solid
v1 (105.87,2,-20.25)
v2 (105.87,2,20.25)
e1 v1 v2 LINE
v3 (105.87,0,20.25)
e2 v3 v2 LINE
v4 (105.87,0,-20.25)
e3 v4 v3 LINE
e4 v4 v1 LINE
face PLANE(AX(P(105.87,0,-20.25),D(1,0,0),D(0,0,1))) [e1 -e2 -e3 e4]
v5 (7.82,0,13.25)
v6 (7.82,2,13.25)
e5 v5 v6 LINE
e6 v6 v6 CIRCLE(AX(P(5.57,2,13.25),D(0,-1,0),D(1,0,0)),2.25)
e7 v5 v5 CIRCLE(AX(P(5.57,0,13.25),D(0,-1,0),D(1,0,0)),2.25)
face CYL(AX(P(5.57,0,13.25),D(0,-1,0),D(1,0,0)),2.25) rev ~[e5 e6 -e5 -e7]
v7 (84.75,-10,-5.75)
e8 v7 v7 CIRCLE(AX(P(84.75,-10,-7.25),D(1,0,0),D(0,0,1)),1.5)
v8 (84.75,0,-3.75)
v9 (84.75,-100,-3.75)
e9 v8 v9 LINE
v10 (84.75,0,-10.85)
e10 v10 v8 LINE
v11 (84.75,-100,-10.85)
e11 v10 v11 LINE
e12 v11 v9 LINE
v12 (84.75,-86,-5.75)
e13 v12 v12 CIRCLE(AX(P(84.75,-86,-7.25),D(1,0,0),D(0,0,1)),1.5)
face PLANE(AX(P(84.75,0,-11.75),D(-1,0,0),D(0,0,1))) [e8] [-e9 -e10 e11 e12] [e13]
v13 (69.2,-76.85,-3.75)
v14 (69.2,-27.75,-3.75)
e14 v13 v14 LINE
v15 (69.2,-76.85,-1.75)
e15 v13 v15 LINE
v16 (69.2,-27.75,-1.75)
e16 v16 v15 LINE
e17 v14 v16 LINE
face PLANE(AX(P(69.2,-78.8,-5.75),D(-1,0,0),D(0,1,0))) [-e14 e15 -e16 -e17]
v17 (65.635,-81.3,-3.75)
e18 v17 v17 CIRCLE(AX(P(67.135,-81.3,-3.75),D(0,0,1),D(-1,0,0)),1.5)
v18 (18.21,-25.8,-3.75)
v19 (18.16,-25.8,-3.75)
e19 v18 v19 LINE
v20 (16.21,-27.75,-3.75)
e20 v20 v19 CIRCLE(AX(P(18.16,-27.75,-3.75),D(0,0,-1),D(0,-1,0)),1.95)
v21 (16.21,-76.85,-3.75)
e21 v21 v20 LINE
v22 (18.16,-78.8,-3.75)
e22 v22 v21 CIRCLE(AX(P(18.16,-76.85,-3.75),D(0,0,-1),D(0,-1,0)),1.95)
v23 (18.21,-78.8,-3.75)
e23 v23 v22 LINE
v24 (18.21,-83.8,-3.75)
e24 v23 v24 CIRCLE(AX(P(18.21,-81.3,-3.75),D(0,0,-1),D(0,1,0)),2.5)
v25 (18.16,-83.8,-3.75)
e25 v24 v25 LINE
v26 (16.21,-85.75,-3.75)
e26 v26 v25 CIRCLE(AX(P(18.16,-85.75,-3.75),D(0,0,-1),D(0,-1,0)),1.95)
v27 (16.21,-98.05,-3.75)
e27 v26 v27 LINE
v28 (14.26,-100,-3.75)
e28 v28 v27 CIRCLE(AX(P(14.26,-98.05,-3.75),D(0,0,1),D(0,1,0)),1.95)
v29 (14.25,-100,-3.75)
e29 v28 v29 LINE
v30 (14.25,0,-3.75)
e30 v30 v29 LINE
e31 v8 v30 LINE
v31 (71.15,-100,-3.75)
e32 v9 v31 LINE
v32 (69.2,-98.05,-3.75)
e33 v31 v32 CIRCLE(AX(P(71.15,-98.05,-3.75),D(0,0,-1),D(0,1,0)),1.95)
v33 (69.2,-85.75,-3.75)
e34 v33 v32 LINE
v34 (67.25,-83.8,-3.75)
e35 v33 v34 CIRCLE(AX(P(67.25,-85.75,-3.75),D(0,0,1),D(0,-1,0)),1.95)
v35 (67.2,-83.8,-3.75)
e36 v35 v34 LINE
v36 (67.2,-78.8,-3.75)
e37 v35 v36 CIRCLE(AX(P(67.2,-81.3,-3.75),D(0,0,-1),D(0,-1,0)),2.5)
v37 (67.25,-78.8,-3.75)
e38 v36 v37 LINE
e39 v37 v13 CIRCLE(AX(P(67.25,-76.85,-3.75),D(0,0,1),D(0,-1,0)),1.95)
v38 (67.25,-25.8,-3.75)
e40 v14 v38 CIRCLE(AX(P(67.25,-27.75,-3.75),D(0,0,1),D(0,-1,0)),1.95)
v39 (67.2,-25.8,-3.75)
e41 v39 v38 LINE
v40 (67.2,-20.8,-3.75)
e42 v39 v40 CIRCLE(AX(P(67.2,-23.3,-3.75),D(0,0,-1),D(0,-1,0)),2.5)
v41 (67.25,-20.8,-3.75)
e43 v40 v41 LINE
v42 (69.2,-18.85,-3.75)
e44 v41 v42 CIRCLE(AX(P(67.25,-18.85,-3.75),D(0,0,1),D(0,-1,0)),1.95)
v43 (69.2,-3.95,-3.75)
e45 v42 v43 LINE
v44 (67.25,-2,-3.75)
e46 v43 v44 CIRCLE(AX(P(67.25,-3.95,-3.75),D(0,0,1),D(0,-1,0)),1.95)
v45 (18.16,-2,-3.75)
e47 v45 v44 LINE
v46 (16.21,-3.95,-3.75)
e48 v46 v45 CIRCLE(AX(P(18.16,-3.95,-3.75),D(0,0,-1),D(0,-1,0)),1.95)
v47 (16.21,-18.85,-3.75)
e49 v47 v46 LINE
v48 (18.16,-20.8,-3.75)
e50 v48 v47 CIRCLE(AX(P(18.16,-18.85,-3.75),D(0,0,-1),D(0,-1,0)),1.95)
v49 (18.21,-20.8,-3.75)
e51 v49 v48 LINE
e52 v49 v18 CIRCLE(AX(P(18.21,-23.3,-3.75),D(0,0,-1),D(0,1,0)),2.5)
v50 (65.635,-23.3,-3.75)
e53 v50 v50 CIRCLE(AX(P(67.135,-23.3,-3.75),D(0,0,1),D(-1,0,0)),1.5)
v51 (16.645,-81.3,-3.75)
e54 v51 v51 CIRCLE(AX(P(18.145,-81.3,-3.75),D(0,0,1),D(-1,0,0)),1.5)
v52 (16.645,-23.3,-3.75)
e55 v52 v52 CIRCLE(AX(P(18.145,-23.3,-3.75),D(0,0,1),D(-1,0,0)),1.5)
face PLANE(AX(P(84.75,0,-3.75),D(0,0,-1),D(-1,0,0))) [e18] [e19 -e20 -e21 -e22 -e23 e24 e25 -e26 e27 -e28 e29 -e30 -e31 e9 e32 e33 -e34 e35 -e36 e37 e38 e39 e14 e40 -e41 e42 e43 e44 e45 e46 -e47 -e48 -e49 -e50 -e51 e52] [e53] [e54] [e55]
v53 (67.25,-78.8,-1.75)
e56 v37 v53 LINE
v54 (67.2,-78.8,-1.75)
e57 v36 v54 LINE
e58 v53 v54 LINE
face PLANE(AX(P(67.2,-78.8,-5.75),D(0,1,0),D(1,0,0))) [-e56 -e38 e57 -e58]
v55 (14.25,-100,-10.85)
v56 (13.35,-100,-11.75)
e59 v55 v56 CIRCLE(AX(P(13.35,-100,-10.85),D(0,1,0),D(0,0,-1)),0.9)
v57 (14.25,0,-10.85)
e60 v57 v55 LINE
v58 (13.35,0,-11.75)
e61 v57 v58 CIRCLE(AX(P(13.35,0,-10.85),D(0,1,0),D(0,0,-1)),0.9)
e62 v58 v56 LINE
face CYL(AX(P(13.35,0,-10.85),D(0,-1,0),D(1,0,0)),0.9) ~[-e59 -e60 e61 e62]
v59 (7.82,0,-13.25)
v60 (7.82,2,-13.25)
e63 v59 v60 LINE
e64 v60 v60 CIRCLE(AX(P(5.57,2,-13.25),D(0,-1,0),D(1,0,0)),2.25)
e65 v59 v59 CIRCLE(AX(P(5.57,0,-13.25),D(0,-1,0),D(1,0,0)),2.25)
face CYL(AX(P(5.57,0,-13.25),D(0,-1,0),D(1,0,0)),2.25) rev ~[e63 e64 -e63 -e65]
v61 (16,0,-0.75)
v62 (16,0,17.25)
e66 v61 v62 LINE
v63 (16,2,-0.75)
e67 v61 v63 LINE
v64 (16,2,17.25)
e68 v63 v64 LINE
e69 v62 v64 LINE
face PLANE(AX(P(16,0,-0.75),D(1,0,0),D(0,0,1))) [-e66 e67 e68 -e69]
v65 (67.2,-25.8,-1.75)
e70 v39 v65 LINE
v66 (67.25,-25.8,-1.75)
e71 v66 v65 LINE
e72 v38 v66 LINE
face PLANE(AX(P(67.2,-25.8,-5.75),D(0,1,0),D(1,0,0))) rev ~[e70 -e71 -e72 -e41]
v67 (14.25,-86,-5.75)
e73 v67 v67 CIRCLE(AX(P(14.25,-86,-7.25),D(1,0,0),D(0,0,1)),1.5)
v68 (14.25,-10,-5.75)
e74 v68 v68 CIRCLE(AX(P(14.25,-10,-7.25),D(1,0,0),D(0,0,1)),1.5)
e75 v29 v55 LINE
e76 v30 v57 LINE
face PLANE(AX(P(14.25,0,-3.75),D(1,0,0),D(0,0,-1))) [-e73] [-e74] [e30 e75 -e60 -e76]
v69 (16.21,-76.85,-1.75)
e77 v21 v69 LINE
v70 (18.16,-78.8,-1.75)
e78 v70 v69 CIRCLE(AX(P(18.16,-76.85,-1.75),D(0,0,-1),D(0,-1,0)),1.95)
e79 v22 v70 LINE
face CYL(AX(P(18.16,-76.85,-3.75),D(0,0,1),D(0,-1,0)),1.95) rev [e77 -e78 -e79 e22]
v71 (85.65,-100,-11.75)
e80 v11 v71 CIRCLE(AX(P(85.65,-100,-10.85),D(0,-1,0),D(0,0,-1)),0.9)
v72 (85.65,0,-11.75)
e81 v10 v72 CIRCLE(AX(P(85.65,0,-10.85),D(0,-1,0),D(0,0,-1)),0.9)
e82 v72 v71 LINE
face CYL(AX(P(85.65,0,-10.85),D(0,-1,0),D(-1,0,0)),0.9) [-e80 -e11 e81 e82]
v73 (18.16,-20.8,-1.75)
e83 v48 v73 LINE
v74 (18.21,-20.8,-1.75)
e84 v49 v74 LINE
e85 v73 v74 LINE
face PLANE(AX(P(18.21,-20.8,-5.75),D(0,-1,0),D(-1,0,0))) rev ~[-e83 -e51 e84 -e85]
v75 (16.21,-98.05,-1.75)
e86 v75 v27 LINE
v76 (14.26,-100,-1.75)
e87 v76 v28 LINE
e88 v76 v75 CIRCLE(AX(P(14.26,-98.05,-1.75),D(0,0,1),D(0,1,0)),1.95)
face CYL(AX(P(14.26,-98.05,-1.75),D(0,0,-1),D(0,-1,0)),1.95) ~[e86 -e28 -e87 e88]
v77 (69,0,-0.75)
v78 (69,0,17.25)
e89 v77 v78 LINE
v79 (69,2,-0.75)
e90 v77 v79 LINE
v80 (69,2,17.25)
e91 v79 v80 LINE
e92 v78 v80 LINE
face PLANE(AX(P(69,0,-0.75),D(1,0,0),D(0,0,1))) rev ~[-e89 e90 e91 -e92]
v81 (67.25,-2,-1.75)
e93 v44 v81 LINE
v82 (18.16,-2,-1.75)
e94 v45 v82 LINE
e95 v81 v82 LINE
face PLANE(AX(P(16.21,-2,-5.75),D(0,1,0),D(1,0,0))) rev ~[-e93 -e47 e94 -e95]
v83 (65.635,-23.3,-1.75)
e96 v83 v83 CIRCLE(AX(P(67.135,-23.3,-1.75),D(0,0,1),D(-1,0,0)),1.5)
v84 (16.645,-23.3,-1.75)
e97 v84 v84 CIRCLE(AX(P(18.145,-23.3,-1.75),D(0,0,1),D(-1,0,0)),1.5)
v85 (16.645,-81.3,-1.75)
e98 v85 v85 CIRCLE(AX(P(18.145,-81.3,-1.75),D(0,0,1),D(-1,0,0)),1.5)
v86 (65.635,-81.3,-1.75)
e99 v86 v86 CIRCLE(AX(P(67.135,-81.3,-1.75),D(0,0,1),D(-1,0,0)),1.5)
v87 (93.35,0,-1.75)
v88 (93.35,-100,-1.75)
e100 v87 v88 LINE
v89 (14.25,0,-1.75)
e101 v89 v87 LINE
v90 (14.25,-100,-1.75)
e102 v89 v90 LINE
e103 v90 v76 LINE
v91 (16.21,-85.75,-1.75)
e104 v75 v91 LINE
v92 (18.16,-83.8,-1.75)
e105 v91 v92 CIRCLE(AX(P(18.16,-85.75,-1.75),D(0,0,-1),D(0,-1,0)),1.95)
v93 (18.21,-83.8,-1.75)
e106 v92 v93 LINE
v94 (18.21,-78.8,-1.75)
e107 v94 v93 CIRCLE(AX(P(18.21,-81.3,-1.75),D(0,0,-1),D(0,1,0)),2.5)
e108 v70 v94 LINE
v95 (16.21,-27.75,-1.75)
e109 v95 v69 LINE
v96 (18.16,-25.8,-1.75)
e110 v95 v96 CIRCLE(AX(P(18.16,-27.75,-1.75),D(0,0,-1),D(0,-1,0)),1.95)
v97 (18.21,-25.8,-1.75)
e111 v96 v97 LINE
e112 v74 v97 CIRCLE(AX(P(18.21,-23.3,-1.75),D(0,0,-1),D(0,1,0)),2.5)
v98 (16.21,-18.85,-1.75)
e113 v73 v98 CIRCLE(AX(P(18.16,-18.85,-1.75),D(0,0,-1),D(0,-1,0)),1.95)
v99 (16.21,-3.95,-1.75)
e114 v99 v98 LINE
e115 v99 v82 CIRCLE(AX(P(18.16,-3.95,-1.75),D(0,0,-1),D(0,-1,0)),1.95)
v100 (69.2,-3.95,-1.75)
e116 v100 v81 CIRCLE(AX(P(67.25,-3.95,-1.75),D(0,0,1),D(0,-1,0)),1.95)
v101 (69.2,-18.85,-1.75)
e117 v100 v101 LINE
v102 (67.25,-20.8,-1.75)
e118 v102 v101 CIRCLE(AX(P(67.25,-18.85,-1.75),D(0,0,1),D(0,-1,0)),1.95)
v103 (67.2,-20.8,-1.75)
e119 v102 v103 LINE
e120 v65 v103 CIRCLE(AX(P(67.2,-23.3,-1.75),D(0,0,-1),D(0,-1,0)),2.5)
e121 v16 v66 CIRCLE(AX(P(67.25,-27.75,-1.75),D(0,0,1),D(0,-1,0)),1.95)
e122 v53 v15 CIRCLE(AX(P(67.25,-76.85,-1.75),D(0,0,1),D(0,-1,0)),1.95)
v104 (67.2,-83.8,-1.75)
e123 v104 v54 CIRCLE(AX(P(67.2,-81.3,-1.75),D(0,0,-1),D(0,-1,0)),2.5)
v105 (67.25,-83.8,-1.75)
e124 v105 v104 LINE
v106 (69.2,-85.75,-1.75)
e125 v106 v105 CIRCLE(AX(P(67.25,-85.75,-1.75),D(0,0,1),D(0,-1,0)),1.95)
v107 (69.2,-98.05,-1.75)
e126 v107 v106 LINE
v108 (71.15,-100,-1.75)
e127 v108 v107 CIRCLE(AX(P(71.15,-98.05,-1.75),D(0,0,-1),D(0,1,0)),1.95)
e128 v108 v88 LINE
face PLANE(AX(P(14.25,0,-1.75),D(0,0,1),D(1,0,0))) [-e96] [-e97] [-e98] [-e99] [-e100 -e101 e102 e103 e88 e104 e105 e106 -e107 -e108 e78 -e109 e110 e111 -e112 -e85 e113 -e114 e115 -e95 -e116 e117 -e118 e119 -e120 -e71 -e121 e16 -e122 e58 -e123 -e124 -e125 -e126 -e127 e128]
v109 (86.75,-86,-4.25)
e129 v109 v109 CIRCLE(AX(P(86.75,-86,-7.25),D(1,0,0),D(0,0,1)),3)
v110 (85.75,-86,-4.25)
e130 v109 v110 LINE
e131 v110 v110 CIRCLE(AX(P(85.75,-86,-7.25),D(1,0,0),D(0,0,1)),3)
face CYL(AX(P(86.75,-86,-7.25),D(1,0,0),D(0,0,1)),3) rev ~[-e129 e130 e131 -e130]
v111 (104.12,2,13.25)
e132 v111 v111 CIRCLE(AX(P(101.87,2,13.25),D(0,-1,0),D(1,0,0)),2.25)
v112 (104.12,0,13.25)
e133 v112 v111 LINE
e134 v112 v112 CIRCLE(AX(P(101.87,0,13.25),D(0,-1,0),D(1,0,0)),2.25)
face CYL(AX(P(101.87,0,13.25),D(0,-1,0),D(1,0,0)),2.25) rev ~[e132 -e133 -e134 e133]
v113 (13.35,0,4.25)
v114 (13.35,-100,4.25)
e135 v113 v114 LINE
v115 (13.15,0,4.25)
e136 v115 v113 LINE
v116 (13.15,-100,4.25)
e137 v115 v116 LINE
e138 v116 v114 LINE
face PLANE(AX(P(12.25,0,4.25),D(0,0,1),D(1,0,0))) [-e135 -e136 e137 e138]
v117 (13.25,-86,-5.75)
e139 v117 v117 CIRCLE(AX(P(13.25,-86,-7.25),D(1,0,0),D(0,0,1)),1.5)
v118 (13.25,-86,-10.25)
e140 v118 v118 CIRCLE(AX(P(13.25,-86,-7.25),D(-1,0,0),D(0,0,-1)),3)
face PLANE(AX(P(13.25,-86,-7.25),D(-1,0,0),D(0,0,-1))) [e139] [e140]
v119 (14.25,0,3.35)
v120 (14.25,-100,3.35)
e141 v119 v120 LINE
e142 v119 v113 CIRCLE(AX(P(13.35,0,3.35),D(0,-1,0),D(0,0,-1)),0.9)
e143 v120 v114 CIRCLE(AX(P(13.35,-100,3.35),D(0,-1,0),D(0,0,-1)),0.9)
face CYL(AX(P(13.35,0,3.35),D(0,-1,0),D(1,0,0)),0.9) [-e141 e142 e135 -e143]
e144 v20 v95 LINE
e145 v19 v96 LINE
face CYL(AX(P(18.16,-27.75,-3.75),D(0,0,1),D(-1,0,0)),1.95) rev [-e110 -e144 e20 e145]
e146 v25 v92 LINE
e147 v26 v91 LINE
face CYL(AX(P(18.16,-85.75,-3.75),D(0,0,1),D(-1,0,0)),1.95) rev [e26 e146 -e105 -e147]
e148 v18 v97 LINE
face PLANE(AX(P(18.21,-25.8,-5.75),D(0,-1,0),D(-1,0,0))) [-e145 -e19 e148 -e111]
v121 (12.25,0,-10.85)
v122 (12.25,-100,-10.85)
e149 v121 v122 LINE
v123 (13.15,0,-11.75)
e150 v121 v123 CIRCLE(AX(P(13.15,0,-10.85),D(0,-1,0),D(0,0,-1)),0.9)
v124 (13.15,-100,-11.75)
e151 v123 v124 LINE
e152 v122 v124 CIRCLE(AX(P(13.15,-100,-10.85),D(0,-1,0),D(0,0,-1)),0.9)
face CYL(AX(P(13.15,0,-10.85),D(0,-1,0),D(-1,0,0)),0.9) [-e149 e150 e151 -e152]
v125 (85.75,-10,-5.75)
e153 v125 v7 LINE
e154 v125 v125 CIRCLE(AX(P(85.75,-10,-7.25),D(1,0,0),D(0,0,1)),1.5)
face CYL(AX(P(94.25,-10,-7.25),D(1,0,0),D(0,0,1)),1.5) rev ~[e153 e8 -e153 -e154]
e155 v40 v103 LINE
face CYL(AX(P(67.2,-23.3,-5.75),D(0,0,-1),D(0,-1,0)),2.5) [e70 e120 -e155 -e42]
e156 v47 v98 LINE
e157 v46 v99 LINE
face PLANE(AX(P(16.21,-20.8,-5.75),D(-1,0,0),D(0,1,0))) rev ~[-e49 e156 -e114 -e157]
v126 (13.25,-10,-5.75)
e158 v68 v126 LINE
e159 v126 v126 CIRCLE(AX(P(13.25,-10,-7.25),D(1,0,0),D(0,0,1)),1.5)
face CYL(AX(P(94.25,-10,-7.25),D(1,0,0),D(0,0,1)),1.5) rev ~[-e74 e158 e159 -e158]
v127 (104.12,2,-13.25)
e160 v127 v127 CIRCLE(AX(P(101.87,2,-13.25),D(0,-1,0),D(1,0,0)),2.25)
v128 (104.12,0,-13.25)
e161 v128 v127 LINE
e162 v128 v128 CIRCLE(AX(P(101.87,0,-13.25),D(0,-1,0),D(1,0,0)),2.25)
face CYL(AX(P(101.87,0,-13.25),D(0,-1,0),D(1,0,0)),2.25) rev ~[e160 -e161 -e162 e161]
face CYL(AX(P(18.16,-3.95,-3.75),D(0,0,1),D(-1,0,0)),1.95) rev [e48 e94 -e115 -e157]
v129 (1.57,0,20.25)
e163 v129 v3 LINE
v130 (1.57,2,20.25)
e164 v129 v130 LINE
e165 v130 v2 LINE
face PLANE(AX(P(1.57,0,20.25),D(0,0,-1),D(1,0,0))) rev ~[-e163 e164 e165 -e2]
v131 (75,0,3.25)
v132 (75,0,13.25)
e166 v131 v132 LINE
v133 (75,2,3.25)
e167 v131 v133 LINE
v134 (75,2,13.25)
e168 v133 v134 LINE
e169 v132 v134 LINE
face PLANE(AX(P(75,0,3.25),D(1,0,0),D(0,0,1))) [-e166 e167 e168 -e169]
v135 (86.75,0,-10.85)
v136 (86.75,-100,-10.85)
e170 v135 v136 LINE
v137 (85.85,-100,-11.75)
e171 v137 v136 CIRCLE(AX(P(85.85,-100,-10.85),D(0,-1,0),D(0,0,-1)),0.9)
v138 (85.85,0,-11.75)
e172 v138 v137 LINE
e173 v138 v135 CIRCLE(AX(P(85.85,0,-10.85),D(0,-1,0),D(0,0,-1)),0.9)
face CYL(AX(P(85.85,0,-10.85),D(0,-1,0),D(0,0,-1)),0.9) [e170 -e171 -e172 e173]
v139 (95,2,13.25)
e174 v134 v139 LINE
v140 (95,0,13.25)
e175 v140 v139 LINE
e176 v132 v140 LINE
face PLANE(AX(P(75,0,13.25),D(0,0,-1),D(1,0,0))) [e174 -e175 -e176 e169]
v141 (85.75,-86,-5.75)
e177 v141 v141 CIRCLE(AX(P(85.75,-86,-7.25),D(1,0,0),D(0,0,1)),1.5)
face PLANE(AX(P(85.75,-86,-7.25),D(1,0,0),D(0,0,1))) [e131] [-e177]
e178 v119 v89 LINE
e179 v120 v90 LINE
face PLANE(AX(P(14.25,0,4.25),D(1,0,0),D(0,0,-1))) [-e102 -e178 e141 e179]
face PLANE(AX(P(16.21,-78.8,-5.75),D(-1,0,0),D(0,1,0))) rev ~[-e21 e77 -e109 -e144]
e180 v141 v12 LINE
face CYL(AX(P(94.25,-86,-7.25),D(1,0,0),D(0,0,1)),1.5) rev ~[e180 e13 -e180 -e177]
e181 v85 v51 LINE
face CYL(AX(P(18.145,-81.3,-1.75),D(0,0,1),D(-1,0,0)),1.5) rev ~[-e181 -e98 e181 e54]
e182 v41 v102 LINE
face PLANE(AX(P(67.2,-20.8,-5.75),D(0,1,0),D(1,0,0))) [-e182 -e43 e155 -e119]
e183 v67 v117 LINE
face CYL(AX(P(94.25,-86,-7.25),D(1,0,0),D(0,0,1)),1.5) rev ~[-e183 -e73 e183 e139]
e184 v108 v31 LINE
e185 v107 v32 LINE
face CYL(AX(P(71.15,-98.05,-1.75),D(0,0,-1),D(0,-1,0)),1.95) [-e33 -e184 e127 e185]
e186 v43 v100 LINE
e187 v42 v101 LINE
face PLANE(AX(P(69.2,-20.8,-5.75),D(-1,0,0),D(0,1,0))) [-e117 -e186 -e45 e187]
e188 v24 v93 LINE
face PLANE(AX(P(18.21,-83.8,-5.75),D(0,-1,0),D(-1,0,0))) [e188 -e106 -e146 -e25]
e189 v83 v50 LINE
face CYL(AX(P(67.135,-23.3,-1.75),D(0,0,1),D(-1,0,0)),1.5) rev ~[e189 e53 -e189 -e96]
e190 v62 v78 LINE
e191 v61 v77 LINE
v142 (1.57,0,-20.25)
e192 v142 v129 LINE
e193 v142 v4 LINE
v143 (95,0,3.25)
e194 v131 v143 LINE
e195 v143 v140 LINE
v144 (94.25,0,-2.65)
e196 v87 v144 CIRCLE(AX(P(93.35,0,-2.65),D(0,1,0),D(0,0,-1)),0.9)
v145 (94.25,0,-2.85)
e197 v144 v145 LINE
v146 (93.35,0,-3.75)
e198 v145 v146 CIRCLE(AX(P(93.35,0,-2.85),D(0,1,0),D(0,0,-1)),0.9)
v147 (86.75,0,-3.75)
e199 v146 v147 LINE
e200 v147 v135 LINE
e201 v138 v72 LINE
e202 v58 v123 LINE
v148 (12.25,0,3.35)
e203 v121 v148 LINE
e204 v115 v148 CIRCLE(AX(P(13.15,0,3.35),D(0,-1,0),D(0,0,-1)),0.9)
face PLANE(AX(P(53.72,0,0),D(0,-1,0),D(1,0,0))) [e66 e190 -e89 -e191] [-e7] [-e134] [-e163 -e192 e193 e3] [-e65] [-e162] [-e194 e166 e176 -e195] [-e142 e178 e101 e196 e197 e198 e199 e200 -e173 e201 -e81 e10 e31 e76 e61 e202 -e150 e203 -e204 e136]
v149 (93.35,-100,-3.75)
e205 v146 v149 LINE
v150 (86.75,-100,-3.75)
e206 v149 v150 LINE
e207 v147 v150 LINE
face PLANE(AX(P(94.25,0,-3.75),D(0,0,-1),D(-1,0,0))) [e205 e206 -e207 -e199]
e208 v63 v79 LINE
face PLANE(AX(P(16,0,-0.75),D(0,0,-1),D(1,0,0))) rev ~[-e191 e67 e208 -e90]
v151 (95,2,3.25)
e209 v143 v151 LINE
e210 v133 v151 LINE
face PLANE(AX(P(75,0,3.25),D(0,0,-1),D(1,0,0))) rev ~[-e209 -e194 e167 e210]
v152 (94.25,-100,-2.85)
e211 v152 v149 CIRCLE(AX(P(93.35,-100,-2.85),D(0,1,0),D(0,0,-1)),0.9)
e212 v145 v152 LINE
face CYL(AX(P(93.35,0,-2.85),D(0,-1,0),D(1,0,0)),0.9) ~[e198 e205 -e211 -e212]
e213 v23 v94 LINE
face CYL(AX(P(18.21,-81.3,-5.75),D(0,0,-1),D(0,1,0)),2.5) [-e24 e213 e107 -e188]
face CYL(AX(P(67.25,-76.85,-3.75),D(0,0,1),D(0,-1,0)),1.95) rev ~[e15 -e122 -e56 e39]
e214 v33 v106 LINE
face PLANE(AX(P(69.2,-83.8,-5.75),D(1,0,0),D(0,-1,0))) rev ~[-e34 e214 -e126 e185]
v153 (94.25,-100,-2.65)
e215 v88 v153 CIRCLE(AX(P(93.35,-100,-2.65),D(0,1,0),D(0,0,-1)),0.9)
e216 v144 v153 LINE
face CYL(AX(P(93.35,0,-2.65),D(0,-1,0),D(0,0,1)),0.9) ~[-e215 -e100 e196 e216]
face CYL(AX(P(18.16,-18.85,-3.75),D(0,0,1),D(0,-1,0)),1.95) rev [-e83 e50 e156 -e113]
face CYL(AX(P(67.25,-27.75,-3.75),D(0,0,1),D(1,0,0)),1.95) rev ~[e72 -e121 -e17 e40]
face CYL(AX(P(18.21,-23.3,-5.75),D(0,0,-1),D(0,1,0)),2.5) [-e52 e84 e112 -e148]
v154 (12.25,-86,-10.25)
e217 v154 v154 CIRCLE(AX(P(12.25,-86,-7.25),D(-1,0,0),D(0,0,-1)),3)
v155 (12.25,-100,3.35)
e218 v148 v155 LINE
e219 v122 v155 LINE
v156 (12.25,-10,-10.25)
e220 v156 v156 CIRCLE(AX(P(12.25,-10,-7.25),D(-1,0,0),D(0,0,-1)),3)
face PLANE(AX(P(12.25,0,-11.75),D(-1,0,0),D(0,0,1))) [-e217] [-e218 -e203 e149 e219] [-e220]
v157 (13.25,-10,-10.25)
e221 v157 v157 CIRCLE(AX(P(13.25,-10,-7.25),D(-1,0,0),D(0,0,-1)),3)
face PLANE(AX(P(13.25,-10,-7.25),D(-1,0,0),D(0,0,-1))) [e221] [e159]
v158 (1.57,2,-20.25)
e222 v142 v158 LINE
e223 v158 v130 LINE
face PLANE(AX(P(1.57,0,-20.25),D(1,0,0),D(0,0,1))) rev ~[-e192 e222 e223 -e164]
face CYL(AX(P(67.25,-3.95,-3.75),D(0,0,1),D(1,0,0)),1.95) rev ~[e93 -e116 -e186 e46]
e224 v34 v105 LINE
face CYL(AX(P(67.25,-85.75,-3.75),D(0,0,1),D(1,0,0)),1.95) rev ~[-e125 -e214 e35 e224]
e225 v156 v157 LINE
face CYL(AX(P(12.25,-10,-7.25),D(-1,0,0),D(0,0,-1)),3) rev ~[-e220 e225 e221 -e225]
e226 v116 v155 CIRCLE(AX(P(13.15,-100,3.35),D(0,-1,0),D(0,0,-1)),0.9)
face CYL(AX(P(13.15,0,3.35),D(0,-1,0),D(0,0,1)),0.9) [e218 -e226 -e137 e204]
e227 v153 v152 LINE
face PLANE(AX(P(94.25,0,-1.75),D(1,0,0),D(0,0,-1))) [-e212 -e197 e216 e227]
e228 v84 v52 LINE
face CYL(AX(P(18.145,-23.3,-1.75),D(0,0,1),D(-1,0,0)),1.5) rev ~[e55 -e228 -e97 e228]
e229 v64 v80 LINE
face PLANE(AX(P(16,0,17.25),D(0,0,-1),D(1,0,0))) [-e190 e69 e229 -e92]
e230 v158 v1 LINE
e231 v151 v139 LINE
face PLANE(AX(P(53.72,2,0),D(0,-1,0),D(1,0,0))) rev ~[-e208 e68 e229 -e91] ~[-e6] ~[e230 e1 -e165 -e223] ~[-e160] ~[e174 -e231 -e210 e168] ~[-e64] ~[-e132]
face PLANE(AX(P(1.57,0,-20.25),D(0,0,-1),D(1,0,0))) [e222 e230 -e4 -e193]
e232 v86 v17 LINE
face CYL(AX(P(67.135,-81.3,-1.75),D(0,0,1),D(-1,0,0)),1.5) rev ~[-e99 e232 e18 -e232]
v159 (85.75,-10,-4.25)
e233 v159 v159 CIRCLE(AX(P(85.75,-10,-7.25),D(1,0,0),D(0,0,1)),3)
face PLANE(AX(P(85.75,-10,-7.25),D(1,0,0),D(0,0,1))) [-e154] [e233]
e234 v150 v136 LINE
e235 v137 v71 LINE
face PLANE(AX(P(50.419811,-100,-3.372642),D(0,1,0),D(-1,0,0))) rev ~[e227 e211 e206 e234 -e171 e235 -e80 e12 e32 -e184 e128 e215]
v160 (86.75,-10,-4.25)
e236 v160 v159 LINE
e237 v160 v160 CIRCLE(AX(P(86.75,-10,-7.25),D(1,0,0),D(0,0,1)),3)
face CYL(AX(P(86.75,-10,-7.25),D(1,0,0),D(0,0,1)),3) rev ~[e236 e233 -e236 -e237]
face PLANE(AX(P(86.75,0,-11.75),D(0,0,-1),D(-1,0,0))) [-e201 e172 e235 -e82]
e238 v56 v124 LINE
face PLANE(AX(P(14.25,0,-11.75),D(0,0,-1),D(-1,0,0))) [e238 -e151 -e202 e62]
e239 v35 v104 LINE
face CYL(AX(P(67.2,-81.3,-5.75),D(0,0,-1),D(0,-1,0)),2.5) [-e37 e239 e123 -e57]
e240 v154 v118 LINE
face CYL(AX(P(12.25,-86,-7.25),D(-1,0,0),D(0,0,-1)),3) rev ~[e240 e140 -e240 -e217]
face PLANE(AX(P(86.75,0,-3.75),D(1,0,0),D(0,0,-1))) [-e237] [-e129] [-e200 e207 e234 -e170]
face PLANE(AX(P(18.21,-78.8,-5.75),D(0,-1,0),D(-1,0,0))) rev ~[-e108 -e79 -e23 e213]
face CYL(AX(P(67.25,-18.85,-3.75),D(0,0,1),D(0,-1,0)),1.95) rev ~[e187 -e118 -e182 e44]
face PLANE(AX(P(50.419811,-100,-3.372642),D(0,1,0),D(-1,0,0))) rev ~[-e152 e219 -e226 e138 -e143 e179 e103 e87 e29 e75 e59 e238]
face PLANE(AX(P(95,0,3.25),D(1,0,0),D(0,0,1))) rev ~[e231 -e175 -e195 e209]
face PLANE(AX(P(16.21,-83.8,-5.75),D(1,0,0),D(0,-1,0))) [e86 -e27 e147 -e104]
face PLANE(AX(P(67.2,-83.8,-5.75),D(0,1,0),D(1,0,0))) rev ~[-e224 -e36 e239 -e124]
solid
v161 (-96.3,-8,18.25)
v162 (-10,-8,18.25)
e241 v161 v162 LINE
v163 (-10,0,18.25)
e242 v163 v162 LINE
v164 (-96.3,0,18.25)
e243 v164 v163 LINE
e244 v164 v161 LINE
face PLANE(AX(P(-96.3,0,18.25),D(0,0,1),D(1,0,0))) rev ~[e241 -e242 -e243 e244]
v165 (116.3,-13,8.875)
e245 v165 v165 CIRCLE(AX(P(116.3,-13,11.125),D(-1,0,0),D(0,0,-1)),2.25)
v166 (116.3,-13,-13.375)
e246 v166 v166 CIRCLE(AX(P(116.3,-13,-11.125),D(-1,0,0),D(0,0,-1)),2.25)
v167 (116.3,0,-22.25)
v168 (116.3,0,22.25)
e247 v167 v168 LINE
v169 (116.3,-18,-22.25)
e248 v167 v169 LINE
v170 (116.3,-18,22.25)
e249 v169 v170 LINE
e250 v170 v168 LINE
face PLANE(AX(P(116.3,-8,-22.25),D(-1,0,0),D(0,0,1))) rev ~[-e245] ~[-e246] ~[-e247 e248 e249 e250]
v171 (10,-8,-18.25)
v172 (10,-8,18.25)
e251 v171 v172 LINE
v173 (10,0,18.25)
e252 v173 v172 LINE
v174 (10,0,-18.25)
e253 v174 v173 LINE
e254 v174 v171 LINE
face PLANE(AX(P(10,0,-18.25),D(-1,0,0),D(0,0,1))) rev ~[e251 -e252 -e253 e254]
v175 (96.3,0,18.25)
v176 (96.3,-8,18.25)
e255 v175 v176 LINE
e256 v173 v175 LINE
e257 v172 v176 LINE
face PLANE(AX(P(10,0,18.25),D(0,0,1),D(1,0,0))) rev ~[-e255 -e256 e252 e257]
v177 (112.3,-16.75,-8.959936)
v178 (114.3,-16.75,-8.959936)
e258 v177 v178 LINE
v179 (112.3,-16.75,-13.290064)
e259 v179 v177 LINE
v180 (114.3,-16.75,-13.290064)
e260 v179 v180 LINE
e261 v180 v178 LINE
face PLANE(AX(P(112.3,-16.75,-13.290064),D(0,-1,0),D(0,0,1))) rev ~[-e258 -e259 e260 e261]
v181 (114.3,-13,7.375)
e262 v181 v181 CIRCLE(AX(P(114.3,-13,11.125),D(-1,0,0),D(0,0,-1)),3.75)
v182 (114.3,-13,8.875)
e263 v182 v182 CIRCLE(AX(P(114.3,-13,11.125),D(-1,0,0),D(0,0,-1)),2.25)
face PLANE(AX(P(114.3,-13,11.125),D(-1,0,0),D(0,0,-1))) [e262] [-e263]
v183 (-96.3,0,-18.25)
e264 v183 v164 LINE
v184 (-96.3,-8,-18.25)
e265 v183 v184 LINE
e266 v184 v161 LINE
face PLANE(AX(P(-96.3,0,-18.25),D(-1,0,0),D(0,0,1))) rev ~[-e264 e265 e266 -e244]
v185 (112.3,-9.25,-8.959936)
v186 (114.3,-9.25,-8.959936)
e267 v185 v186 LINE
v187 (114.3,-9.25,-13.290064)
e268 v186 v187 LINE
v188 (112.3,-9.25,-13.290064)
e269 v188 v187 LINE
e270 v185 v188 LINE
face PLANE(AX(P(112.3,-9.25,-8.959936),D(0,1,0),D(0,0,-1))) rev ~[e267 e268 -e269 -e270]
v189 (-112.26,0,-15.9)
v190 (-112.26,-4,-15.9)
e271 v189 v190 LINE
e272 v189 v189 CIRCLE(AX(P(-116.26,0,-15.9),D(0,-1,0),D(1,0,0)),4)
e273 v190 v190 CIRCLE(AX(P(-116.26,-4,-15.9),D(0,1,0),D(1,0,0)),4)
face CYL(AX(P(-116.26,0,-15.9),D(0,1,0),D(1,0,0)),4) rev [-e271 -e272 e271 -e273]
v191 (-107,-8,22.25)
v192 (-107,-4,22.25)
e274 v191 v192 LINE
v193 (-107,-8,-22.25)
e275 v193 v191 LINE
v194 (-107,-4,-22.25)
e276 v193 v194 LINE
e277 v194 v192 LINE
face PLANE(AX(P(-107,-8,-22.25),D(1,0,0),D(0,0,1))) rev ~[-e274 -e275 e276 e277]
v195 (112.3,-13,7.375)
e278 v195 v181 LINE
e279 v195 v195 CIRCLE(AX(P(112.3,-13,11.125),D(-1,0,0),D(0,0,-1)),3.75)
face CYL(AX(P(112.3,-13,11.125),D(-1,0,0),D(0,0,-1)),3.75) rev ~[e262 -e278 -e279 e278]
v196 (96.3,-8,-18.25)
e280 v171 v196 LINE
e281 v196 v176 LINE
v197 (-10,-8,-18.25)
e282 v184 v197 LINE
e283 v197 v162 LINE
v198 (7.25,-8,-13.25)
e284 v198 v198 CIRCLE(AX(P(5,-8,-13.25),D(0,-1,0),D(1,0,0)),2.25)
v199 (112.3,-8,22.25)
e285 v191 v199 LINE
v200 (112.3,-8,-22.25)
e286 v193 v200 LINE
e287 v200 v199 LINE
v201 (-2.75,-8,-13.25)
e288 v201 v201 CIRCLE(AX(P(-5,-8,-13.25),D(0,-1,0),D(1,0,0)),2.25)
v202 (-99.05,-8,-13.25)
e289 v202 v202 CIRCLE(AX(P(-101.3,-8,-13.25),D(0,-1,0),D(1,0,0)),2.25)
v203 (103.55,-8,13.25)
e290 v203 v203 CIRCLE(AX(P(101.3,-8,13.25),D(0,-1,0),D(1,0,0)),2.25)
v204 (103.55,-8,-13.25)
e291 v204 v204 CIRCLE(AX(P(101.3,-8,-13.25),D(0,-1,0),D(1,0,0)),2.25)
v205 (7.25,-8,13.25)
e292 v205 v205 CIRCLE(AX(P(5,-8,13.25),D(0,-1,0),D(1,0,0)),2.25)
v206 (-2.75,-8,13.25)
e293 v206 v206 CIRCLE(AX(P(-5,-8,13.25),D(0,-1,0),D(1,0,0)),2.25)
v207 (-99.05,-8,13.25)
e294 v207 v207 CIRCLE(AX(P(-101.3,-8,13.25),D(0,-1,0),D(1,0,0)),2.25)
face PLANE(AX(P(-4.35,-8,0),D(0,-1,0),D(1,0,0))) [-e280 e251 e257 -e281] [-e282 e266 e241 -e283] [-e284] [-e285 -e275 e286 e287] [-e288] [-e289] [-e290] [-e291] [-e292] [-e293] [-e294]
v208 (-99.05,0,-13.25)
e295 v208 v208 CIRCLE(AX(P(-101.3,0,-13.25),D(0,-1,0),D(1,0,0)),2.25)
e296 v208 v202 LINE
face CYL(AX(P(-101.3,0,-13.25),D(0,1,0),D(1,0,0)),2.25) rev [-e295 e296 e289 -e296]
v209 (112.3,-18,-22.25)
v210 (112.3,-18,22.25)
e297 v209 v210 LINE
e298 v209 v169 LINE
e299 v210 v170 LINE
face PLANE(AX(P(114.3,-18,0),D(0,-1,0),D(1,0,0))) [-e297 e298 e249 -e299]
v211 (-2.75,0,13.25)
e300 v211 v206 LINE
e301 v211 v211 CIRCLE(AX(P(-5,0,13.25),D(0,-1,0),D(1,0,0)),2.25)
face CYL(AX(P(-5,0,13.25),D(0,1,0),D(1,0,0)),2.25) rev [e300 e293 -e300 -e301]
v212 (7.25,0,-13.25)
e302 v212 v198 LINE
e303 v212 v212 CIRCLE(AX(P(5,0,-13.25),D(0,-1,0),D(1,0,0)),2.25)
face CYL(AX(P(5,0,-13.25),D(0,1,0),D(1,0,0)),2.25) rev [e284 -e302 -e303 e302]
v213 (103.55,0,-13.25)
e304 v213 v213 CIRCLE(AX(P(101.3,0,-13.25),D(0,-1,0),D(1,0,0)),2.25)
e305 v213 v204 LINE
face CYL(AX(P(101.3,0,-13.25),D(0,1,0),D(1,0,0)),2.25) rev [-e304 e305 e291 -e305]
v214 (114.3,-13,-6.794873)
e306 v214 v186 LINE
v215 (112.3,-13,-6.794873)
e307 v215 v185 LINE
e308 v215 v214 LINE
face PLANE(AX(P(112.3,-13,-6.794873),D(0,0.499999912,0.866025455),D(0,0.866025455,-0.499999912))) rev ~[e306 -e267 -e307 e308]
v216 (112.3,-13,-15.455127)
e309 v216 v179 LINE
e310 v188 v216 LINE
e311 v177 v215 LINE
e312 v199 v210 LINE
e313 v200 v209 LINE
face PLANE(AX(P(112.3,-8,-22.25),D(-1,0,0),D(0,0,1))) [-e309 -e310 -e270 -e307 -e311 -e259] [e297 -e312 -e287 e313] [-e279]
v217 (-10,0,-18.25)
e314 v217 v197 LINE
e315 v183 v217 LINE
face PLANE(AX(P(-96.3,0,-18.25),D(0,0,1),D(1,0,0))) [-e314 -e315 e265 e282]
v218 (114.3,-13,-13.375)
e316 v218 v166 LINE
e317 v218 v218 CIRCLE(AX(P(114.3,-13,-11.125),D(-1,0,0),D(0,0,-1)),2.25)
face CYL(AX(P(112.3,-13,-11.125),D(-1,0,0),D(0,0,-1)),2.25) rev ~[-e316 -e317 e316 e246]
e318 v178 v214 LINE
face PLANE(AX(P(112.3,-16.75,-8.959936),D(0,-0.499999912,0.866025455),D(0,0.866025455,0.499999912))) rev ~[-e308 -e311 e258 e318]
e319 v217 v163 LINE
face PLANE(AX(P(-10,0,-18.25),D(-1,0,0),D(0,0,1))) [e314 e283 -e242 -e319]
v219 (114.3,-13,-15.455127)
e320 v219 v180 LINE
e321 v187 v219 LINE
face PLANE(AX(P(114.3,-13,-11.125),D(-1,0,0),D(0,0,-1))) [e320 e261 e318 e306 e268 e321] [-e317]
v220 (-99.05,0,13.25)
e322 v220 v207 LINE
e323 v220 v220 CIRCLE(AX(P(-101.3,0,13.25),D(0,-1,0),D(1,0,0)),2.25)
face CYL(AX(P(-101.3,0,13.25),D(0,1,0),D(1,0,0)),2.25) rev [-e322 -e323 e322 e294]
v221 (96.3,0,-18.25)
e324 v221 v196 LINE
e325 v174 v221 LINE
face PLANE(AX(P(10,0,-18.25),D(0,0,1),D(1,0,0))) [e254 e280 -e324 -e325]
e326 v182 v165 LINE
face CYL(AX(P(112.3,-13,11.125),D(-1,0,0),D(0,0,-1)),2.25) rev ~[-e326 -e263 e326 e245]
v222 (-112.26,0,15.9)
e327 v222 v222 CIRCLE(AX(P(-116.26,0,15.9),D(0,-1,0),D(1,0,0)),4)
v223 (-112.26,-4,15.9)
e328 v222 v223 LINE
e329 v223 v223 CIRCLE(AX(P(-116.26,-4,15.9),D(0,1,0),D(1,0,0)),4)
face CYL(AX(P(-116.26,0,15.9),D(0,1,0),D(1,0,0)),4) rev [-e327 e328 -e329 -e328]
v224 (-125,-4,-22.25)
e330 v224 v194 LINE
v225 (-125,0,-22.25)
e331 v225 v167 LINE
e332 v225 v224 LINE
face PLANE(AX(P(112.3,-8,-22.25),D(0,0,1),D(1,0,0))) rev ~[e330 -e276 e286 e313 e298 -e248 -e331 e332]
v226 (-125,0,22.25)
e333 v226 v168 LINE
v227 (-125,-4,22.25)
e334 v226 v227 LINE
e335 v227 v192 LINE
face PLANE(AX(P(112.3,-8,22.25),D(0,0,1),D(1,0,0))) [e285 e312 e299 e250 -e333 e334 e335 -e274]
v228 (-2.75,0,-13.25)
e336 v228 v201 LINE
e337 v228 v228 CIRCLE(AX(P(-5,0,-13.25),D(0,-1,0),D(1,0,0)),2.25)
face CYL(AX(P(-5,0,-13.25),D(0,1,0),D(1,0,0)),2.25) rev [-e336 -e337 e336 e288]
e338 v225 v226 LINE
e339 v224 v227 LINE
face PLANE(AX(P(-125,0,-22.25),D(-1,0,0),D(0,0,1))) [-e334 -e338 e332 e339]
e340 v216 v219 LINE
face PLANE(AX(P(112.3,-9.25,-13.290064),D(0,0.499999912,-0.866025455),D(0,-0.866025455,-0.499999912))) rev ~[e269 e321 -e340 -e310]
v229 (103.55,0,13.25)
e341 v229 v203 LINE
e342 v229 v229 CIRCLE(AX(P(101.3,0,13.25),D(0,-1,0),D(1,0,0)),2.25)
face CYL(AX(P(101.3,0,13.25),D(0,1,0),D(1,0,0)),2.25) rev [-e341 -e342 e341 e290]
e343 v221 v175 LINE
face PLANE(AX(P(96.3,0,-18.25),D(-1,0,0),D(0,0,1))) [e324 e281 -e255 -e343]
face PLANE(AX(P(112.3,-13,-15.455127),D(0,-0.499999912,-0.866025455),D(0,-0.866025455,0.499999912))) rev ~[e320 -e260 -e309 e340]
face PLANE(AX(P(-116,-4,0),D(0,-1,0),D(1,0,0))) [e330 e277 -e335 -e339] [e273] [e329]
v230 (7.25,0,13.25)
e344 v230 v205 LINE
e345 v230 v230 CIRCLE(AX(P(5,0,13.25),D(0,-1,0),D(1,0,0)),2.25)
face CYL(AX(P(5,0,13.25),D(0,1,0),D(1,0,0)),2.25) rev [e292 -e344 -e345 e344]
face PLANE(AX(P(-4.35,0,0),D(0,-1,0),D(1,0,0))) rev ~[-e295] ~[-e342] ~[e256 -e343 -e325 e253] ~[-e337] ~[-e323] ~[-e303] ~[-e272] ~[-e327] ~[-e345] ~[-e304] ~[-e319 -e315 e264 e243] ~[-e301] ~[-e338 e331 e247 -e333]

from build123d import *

# Parameters (mm, degrees)
SKETCH004_W     = 241.3
SKETCH004_H     = 44.5
SKETCH004_R     = 4
SKETCH004_R_2   = 2.25
SKETCH004_W_2   = 86.3
SKETCH004_H_2   = 36.5
PAD003_DEPTH    = 8
SKETCH_W        = 18
SKETCH_H        = 44.5
POCKET_DEPTH    = 4
SKETCH030_W     = 4
SKETCH030_H     = 44.5
PAD_DEPTH       = 10
SKETCH031_R     = 3.75
POCKET013_DEPTH = 2
SKETCH032_R     = 2.25
POCKET014_DEPTH = 5
SKETCH020_W     = 104.3
SKETCH020_H     = 40.5
SKETCH020_R     = 2.25
SKETCH020_W_2   = 53
SKETCH020_H_2   = 18
SKETCH020_W_3   = 20
SKETCH020_H_3   = 10
PAD006_DEPTH    = 2
PAD007_DEPTH    = 100
POCKET011_DEPTH = 5
SKETCH033_W     = 28.99
SKETCH033_H     = 80
POCKET015_DEPTH = 5
SKETCH034_R     = 1.5
POCKET016_DEPTH = 92.681
SKETCH035_R     = 3
POCKET017_DEPTH = 1
SKETCH036_R     = 3
POCKET018_DEPTH = 1
SKETCH027_R     = 1.5
POCKET019_DEPTH = 2
FILLET_R        = 1.95
FILLET001_R     = 0.9


with BuildPart() as pirackhalf:
    # Sketch004 → Pad003 (new body)
    with BuildSketch(Plane.XZ):
        with Locations((-4.35, 0)):
            Rectangle(SKETCH004_W, SKETCH004_H)
        with Locations((-116.26, 15.9)):
            Circle(SKETCH004_R, mode=Mode.SUBTRACT)
        with Locations((-116.26, -15.9)):
            Circle(SKETCH004_R, mode=Mode.SUBTRACT)
        with Locations((-101.3, 13.25)):
            Circle(SKETCH004_R_2, mode=Mode.SUBTRACT)
        with Locations((-101.3, -13.25)):
            Circle(SKETCH004_R_2, mode=Mode.SUBTRACT)
        with Locations((-5, -13.25)):
            Circle(SKETCH004_R_2, mode=Mode.SUBTRACT)
        with Locations((-5, 13.25)):
            Circle(SKETCH004_R_2, mode=Mode.SUBTRACT)
        with Locations((5, 13.25)):
            Circle(SKETCH004_R_2, mode=Mode.SUBTRACT)
        with Locations((5, -13.25)):
            Circle(SKETCH004_R_2, mode=Mode.SUBTRACT)
        with Locations((101.3, -13.25)):
            Circle(SKETCH004_R_2, mode=Mode.SUBTRACT)
        with Locations((101.3, 13.25)):
            Circle(SKETCH004_R_2, mode=Mode.SUBTRACT)
        with Locations((-53.15, 0)):
            Rectangle(SKETCH004_W_2, SKETCH004_H_2, mode=Mode.SUBTRACT)
        with Locations((53.15, 0)):
            Rectangle(SKETCH004_W_2, SKETCH004_H_2, mode=Mode.SUBTRACT)
    extrude(amount=PAD003_DEPTH)

    # Sketch → Pocket (cut)
    with BuildSketch(Plane.XZ.offset(8)):
        with Locations((-116, 0)):
            Rectangle(SKETCH_W, SKETCH_H)
    extrude(amount=-POCKET_DEPTH, mode=Mode.SUBTRACT)

    # Sketch030 (on Face4 of Pocket) → Pad (join)
    with BuildSketch(Plane.XZ.offset(8)):
        with Locations((114.3, 0)):
            Rectangle(SKETCH030_W, SKETCH030_H)
    extrude(amount=PAD_DEPTH)

    # Sketch031 (on Face24 of Pad) → Pocket013 (cut)
    with BuildSketch(Plane(origin=(112.3, 0, 0), x_dir=(0, 0, -1), z_dir=(-1, 0, 0))):
        with Locations((-11.125, 13)):
            Circle(SKETCH031_R)
        Polygon((15.455127, 13), (13.290064, 16.75), (8.959936, 16.75), (6.794873, 13), (8.959936, 9.25), (13.290064, 9.25), align=None)
    extrude(amount=-POCKET013_DEPTH, mode=Mode.SUBTRACT)

    # Sketch032 (on Face27 of Pocket013) → Pocket014 (cut)
    with BuildSketch(Plane(origin=(112.3, 0, 0), x_dir=(0, 0, -1), z_dir=(-1, 0, 0))):
        with Locations((-11.125, 13)):
            Circle(SKETCH032_R)
        with Locations((11.125, 13)):
            Circle(SKETCH032_R)
    extrude(amount=-POCKET014_DEPTH, mode=Mode.SUBTRACT)


with BuildPart() as pirackshelf:
    # Sketch020 → Pad006 (new body)
    with BuildSketch(Plane.XZ):
        with Locations((53.72, 0)):
            Rectangle(SKETCH020_W, SKETCH020_H)
        with Locations((5.57, 13.25)):
            Circle(SKETCH020_R, mode=Mode.SUBTRACT)
        with Locations((5.57, -13.25)):
            Circle(SKETCH020_R, mode=Mode.SUBTRACT)
        with Locations((101.87, -13.25)):
            Circle(SKETCH020_R, mode=Mode.SUBTRACT)
        with Locations((101.87, 13.25)):
            Circle(SKETCH020_R, mode=Mode.SUBTRACT)
        with Locations((42.5, 8.25)):
            Rectangle(SKETCH020_W_2, SKETCH020_H_2, mode=Mode.SUBTRACT)
        with Locations((85, 8.25)):
            Rectangle(SKETCH020_W_3, SKETCH020_H_3, mode=Mode.SUBTRACT)
    extrude(amount=-PAD006_DEPTH)

    # Sketch022 (on Face17 of Pad006) → Pad007 (join)
    with BuildSketch(Plane.XZ):
        Polygon((84.75, -3.75), (14.25, -3.75), (14.25, -11.75), (12.25, -11.75), (12.25, 4.25), (14.25, 4.25), (14.25, -1.75), (94.25, -1.75), (94.25, -3.75), (86.75, -3.75), (86.75, -11.75), (84.75, -11.75), align=None)
    extrude(amount=PAD007_DEPTH)

    # Sketch026 → Pocket011 (cut)
    with BuildSketch(Plane(origin=(0, 0, -5.75), x_dir=(1, 0, 0), z_dir=(0, 0, -1))):
        with BuildLine():
            ThreePointArc((67.2, 25.8), (64.7, 23.3), (67.2, 20.8))
            Line((67.2, 20.8), (69.2, 20.8))
            Line((69.2, 20.8), (69.2, 2))
            Line((16.21, 2), (69.2, 2))
            Line((16.21, 20.8), (16.21, 2))
            Line((18.21, 20.8), (16.21, 20.8))
            ThreePointArc((18.21, 20.8), (20.71, 23.3), (18.21, 25.8))
            Line((18.21, 25.8), (16.21, 25.8))
            Line((16.21, 78.8), (16.21, 25.8))
            Line((18.21, 78.8), (16.21, 78.8))
            ThreePointArc((18.21, 78.8), (20.71, 81.3), (18.21, 83.8))
            Line((18.21, 83.8), (16.21, 83.8))
            Line((16.21, 83.8), (16.21, 103.8))
            Line((16.21, 103.8), (69.2, 103.8))
            Line((69.2, 83.8), (69.2, 103.8))
            Line((67.2, 83.8), (69.2, 83.8))
            ThreePointArc((67.2, 83.8), (64.7, 81.3), (67.2, 78.8))
            Line((67.2, 78.8), (69.2, 78.8))
            Line((69.2, 78.8), (69.2, 25.8))
            Line((67.2, 25.8), (69.2, 25.8))
        make_face()
    extrude(amount=-POCKET011_DEPTH, mode=Mode.SUBTRACT)

    # Sketch033 → Pocket015 (cut)
    with BuildSketch(Plane(origin=(0, 0, -3.75), x_dir=(-1, 0, 0), z_dir=(0, 0, 1))):
        with Locations((-41.64, 60)):
            Rectangle(SKETCH033_W, SKETCH033_H)
    extrude(amount=-POCKET015_DEPTH, mode=Mode.SUBTRACT)

    # Sketch034 (on Face9 of Pocket015) → Pocket016 (cut, through all)
    with BuildSketch(Plane(origin=(94.25, 0, 0), x_dir=(0, 0, 1), z_dir=(1, 0, 0))):
        with Locations((-7.25, 86)):
            Circle(SKETCH034_R)
        with Locations((-7.25, 10)):
            Circle(SKETCH034_R)
    extrude(amount=-POCKET016_DEPTH, mode=Mode.SUBTRACT)

    # Sketch035 (on Face17 of Pocket016) → Pocket017 (cut)
    with BuildSketch(Plane(origin=(12.25, 0, 0), x_dir=(0, 0, -1), z_dir=(-1, 0, 0))):
        with Locations((7.25, 86)):
            Circle(SKETCH035_R)
        with Locations((7.25, 10)):
            Circle(SKETCH035_R)
    extrude(amount=-POCKET017_DEPTH, mode=Mode.SUBTRACT)

    # Sketch036 (on Face11 of Pocket017) → Pocket018 (cut)
    with BuildSketch(Plane(origin=(86.75, 0, 0), x_dir=(0, 0, 1), z_dir=(1, 0, 0))):
        with Locations((-7.25, 86)):
            Circle(SKETCH036_R)
        with Locations((-7.25, 10)):
            Circle(SKETCH036_R)
    extrude(amount=-POCKET018_DEPTH, mode=Mode.SUBTRACT)

    # Sketch027 (on Face8 of Pocket011) → Pocket019 (cut)
    with BuildSketch(Plane(origin=(0, 0, -1.75), x_dir=(-1, 0, 0), z_dir=(0, 0, 1))):
        with Locations((-67.135, 81.3)):
            Circle(SKETCH027_R)
        with Locations((-18.145, 81.3)):
            Circle(SKETCH027_R)
        with Locations((-67.135, 23.3)):
            Circle(SKETCH027_R)
        with Locations((-18.145, 23.3)):
            Circle(SKETCH027_R)
    extrude(amount=-POCKET019_DEPTH, mode=Mode.SUBTRACT)

    # Fillet
    fillet_edges = [pirackshelf.edges().sort_by_distance(p)[0] for p in [
        (16.21, -83.8, -2.75),
        (16.21, -78.8, -2.75),
        (16.21, -25.8, -2.75),
        (69.2, -83.8, -2.75),
        (69.2, -78.8, -2.75),
        (69.2, -25.8, -2.75),
        (16.21, -20.8, -2.75),
        (69.2, -20.8, -2.75),
        (16.21, -2, -2.75),
        (69.2, -2, -2.75),
        (16.21, -100, -2.75),
        (69.2, -100, -2.75),
    ]]
    fillet(fillet_edges, radius=FILLET_R)

    # Fillet001
    fillet001_edges = [pirackshelf.edges().sort_by_distance(p)[0] for p in [
        (14.25, -50, -11.75),
        (12.25, -50, -11.75),
        (12.25, -50, 4.25),
        (14.25, -50, 4.25),
        (86.75, -50, -11.75),
        (84.75, -50, -11.75),
        (94.25, -50, -3.75),
        (94.25, -50, -1.75),
    ]]
    fillet(fillet001_edges, radius=FILLET001_R)


solid = Compound([pirackhalf.part, pirackshelf.part])
